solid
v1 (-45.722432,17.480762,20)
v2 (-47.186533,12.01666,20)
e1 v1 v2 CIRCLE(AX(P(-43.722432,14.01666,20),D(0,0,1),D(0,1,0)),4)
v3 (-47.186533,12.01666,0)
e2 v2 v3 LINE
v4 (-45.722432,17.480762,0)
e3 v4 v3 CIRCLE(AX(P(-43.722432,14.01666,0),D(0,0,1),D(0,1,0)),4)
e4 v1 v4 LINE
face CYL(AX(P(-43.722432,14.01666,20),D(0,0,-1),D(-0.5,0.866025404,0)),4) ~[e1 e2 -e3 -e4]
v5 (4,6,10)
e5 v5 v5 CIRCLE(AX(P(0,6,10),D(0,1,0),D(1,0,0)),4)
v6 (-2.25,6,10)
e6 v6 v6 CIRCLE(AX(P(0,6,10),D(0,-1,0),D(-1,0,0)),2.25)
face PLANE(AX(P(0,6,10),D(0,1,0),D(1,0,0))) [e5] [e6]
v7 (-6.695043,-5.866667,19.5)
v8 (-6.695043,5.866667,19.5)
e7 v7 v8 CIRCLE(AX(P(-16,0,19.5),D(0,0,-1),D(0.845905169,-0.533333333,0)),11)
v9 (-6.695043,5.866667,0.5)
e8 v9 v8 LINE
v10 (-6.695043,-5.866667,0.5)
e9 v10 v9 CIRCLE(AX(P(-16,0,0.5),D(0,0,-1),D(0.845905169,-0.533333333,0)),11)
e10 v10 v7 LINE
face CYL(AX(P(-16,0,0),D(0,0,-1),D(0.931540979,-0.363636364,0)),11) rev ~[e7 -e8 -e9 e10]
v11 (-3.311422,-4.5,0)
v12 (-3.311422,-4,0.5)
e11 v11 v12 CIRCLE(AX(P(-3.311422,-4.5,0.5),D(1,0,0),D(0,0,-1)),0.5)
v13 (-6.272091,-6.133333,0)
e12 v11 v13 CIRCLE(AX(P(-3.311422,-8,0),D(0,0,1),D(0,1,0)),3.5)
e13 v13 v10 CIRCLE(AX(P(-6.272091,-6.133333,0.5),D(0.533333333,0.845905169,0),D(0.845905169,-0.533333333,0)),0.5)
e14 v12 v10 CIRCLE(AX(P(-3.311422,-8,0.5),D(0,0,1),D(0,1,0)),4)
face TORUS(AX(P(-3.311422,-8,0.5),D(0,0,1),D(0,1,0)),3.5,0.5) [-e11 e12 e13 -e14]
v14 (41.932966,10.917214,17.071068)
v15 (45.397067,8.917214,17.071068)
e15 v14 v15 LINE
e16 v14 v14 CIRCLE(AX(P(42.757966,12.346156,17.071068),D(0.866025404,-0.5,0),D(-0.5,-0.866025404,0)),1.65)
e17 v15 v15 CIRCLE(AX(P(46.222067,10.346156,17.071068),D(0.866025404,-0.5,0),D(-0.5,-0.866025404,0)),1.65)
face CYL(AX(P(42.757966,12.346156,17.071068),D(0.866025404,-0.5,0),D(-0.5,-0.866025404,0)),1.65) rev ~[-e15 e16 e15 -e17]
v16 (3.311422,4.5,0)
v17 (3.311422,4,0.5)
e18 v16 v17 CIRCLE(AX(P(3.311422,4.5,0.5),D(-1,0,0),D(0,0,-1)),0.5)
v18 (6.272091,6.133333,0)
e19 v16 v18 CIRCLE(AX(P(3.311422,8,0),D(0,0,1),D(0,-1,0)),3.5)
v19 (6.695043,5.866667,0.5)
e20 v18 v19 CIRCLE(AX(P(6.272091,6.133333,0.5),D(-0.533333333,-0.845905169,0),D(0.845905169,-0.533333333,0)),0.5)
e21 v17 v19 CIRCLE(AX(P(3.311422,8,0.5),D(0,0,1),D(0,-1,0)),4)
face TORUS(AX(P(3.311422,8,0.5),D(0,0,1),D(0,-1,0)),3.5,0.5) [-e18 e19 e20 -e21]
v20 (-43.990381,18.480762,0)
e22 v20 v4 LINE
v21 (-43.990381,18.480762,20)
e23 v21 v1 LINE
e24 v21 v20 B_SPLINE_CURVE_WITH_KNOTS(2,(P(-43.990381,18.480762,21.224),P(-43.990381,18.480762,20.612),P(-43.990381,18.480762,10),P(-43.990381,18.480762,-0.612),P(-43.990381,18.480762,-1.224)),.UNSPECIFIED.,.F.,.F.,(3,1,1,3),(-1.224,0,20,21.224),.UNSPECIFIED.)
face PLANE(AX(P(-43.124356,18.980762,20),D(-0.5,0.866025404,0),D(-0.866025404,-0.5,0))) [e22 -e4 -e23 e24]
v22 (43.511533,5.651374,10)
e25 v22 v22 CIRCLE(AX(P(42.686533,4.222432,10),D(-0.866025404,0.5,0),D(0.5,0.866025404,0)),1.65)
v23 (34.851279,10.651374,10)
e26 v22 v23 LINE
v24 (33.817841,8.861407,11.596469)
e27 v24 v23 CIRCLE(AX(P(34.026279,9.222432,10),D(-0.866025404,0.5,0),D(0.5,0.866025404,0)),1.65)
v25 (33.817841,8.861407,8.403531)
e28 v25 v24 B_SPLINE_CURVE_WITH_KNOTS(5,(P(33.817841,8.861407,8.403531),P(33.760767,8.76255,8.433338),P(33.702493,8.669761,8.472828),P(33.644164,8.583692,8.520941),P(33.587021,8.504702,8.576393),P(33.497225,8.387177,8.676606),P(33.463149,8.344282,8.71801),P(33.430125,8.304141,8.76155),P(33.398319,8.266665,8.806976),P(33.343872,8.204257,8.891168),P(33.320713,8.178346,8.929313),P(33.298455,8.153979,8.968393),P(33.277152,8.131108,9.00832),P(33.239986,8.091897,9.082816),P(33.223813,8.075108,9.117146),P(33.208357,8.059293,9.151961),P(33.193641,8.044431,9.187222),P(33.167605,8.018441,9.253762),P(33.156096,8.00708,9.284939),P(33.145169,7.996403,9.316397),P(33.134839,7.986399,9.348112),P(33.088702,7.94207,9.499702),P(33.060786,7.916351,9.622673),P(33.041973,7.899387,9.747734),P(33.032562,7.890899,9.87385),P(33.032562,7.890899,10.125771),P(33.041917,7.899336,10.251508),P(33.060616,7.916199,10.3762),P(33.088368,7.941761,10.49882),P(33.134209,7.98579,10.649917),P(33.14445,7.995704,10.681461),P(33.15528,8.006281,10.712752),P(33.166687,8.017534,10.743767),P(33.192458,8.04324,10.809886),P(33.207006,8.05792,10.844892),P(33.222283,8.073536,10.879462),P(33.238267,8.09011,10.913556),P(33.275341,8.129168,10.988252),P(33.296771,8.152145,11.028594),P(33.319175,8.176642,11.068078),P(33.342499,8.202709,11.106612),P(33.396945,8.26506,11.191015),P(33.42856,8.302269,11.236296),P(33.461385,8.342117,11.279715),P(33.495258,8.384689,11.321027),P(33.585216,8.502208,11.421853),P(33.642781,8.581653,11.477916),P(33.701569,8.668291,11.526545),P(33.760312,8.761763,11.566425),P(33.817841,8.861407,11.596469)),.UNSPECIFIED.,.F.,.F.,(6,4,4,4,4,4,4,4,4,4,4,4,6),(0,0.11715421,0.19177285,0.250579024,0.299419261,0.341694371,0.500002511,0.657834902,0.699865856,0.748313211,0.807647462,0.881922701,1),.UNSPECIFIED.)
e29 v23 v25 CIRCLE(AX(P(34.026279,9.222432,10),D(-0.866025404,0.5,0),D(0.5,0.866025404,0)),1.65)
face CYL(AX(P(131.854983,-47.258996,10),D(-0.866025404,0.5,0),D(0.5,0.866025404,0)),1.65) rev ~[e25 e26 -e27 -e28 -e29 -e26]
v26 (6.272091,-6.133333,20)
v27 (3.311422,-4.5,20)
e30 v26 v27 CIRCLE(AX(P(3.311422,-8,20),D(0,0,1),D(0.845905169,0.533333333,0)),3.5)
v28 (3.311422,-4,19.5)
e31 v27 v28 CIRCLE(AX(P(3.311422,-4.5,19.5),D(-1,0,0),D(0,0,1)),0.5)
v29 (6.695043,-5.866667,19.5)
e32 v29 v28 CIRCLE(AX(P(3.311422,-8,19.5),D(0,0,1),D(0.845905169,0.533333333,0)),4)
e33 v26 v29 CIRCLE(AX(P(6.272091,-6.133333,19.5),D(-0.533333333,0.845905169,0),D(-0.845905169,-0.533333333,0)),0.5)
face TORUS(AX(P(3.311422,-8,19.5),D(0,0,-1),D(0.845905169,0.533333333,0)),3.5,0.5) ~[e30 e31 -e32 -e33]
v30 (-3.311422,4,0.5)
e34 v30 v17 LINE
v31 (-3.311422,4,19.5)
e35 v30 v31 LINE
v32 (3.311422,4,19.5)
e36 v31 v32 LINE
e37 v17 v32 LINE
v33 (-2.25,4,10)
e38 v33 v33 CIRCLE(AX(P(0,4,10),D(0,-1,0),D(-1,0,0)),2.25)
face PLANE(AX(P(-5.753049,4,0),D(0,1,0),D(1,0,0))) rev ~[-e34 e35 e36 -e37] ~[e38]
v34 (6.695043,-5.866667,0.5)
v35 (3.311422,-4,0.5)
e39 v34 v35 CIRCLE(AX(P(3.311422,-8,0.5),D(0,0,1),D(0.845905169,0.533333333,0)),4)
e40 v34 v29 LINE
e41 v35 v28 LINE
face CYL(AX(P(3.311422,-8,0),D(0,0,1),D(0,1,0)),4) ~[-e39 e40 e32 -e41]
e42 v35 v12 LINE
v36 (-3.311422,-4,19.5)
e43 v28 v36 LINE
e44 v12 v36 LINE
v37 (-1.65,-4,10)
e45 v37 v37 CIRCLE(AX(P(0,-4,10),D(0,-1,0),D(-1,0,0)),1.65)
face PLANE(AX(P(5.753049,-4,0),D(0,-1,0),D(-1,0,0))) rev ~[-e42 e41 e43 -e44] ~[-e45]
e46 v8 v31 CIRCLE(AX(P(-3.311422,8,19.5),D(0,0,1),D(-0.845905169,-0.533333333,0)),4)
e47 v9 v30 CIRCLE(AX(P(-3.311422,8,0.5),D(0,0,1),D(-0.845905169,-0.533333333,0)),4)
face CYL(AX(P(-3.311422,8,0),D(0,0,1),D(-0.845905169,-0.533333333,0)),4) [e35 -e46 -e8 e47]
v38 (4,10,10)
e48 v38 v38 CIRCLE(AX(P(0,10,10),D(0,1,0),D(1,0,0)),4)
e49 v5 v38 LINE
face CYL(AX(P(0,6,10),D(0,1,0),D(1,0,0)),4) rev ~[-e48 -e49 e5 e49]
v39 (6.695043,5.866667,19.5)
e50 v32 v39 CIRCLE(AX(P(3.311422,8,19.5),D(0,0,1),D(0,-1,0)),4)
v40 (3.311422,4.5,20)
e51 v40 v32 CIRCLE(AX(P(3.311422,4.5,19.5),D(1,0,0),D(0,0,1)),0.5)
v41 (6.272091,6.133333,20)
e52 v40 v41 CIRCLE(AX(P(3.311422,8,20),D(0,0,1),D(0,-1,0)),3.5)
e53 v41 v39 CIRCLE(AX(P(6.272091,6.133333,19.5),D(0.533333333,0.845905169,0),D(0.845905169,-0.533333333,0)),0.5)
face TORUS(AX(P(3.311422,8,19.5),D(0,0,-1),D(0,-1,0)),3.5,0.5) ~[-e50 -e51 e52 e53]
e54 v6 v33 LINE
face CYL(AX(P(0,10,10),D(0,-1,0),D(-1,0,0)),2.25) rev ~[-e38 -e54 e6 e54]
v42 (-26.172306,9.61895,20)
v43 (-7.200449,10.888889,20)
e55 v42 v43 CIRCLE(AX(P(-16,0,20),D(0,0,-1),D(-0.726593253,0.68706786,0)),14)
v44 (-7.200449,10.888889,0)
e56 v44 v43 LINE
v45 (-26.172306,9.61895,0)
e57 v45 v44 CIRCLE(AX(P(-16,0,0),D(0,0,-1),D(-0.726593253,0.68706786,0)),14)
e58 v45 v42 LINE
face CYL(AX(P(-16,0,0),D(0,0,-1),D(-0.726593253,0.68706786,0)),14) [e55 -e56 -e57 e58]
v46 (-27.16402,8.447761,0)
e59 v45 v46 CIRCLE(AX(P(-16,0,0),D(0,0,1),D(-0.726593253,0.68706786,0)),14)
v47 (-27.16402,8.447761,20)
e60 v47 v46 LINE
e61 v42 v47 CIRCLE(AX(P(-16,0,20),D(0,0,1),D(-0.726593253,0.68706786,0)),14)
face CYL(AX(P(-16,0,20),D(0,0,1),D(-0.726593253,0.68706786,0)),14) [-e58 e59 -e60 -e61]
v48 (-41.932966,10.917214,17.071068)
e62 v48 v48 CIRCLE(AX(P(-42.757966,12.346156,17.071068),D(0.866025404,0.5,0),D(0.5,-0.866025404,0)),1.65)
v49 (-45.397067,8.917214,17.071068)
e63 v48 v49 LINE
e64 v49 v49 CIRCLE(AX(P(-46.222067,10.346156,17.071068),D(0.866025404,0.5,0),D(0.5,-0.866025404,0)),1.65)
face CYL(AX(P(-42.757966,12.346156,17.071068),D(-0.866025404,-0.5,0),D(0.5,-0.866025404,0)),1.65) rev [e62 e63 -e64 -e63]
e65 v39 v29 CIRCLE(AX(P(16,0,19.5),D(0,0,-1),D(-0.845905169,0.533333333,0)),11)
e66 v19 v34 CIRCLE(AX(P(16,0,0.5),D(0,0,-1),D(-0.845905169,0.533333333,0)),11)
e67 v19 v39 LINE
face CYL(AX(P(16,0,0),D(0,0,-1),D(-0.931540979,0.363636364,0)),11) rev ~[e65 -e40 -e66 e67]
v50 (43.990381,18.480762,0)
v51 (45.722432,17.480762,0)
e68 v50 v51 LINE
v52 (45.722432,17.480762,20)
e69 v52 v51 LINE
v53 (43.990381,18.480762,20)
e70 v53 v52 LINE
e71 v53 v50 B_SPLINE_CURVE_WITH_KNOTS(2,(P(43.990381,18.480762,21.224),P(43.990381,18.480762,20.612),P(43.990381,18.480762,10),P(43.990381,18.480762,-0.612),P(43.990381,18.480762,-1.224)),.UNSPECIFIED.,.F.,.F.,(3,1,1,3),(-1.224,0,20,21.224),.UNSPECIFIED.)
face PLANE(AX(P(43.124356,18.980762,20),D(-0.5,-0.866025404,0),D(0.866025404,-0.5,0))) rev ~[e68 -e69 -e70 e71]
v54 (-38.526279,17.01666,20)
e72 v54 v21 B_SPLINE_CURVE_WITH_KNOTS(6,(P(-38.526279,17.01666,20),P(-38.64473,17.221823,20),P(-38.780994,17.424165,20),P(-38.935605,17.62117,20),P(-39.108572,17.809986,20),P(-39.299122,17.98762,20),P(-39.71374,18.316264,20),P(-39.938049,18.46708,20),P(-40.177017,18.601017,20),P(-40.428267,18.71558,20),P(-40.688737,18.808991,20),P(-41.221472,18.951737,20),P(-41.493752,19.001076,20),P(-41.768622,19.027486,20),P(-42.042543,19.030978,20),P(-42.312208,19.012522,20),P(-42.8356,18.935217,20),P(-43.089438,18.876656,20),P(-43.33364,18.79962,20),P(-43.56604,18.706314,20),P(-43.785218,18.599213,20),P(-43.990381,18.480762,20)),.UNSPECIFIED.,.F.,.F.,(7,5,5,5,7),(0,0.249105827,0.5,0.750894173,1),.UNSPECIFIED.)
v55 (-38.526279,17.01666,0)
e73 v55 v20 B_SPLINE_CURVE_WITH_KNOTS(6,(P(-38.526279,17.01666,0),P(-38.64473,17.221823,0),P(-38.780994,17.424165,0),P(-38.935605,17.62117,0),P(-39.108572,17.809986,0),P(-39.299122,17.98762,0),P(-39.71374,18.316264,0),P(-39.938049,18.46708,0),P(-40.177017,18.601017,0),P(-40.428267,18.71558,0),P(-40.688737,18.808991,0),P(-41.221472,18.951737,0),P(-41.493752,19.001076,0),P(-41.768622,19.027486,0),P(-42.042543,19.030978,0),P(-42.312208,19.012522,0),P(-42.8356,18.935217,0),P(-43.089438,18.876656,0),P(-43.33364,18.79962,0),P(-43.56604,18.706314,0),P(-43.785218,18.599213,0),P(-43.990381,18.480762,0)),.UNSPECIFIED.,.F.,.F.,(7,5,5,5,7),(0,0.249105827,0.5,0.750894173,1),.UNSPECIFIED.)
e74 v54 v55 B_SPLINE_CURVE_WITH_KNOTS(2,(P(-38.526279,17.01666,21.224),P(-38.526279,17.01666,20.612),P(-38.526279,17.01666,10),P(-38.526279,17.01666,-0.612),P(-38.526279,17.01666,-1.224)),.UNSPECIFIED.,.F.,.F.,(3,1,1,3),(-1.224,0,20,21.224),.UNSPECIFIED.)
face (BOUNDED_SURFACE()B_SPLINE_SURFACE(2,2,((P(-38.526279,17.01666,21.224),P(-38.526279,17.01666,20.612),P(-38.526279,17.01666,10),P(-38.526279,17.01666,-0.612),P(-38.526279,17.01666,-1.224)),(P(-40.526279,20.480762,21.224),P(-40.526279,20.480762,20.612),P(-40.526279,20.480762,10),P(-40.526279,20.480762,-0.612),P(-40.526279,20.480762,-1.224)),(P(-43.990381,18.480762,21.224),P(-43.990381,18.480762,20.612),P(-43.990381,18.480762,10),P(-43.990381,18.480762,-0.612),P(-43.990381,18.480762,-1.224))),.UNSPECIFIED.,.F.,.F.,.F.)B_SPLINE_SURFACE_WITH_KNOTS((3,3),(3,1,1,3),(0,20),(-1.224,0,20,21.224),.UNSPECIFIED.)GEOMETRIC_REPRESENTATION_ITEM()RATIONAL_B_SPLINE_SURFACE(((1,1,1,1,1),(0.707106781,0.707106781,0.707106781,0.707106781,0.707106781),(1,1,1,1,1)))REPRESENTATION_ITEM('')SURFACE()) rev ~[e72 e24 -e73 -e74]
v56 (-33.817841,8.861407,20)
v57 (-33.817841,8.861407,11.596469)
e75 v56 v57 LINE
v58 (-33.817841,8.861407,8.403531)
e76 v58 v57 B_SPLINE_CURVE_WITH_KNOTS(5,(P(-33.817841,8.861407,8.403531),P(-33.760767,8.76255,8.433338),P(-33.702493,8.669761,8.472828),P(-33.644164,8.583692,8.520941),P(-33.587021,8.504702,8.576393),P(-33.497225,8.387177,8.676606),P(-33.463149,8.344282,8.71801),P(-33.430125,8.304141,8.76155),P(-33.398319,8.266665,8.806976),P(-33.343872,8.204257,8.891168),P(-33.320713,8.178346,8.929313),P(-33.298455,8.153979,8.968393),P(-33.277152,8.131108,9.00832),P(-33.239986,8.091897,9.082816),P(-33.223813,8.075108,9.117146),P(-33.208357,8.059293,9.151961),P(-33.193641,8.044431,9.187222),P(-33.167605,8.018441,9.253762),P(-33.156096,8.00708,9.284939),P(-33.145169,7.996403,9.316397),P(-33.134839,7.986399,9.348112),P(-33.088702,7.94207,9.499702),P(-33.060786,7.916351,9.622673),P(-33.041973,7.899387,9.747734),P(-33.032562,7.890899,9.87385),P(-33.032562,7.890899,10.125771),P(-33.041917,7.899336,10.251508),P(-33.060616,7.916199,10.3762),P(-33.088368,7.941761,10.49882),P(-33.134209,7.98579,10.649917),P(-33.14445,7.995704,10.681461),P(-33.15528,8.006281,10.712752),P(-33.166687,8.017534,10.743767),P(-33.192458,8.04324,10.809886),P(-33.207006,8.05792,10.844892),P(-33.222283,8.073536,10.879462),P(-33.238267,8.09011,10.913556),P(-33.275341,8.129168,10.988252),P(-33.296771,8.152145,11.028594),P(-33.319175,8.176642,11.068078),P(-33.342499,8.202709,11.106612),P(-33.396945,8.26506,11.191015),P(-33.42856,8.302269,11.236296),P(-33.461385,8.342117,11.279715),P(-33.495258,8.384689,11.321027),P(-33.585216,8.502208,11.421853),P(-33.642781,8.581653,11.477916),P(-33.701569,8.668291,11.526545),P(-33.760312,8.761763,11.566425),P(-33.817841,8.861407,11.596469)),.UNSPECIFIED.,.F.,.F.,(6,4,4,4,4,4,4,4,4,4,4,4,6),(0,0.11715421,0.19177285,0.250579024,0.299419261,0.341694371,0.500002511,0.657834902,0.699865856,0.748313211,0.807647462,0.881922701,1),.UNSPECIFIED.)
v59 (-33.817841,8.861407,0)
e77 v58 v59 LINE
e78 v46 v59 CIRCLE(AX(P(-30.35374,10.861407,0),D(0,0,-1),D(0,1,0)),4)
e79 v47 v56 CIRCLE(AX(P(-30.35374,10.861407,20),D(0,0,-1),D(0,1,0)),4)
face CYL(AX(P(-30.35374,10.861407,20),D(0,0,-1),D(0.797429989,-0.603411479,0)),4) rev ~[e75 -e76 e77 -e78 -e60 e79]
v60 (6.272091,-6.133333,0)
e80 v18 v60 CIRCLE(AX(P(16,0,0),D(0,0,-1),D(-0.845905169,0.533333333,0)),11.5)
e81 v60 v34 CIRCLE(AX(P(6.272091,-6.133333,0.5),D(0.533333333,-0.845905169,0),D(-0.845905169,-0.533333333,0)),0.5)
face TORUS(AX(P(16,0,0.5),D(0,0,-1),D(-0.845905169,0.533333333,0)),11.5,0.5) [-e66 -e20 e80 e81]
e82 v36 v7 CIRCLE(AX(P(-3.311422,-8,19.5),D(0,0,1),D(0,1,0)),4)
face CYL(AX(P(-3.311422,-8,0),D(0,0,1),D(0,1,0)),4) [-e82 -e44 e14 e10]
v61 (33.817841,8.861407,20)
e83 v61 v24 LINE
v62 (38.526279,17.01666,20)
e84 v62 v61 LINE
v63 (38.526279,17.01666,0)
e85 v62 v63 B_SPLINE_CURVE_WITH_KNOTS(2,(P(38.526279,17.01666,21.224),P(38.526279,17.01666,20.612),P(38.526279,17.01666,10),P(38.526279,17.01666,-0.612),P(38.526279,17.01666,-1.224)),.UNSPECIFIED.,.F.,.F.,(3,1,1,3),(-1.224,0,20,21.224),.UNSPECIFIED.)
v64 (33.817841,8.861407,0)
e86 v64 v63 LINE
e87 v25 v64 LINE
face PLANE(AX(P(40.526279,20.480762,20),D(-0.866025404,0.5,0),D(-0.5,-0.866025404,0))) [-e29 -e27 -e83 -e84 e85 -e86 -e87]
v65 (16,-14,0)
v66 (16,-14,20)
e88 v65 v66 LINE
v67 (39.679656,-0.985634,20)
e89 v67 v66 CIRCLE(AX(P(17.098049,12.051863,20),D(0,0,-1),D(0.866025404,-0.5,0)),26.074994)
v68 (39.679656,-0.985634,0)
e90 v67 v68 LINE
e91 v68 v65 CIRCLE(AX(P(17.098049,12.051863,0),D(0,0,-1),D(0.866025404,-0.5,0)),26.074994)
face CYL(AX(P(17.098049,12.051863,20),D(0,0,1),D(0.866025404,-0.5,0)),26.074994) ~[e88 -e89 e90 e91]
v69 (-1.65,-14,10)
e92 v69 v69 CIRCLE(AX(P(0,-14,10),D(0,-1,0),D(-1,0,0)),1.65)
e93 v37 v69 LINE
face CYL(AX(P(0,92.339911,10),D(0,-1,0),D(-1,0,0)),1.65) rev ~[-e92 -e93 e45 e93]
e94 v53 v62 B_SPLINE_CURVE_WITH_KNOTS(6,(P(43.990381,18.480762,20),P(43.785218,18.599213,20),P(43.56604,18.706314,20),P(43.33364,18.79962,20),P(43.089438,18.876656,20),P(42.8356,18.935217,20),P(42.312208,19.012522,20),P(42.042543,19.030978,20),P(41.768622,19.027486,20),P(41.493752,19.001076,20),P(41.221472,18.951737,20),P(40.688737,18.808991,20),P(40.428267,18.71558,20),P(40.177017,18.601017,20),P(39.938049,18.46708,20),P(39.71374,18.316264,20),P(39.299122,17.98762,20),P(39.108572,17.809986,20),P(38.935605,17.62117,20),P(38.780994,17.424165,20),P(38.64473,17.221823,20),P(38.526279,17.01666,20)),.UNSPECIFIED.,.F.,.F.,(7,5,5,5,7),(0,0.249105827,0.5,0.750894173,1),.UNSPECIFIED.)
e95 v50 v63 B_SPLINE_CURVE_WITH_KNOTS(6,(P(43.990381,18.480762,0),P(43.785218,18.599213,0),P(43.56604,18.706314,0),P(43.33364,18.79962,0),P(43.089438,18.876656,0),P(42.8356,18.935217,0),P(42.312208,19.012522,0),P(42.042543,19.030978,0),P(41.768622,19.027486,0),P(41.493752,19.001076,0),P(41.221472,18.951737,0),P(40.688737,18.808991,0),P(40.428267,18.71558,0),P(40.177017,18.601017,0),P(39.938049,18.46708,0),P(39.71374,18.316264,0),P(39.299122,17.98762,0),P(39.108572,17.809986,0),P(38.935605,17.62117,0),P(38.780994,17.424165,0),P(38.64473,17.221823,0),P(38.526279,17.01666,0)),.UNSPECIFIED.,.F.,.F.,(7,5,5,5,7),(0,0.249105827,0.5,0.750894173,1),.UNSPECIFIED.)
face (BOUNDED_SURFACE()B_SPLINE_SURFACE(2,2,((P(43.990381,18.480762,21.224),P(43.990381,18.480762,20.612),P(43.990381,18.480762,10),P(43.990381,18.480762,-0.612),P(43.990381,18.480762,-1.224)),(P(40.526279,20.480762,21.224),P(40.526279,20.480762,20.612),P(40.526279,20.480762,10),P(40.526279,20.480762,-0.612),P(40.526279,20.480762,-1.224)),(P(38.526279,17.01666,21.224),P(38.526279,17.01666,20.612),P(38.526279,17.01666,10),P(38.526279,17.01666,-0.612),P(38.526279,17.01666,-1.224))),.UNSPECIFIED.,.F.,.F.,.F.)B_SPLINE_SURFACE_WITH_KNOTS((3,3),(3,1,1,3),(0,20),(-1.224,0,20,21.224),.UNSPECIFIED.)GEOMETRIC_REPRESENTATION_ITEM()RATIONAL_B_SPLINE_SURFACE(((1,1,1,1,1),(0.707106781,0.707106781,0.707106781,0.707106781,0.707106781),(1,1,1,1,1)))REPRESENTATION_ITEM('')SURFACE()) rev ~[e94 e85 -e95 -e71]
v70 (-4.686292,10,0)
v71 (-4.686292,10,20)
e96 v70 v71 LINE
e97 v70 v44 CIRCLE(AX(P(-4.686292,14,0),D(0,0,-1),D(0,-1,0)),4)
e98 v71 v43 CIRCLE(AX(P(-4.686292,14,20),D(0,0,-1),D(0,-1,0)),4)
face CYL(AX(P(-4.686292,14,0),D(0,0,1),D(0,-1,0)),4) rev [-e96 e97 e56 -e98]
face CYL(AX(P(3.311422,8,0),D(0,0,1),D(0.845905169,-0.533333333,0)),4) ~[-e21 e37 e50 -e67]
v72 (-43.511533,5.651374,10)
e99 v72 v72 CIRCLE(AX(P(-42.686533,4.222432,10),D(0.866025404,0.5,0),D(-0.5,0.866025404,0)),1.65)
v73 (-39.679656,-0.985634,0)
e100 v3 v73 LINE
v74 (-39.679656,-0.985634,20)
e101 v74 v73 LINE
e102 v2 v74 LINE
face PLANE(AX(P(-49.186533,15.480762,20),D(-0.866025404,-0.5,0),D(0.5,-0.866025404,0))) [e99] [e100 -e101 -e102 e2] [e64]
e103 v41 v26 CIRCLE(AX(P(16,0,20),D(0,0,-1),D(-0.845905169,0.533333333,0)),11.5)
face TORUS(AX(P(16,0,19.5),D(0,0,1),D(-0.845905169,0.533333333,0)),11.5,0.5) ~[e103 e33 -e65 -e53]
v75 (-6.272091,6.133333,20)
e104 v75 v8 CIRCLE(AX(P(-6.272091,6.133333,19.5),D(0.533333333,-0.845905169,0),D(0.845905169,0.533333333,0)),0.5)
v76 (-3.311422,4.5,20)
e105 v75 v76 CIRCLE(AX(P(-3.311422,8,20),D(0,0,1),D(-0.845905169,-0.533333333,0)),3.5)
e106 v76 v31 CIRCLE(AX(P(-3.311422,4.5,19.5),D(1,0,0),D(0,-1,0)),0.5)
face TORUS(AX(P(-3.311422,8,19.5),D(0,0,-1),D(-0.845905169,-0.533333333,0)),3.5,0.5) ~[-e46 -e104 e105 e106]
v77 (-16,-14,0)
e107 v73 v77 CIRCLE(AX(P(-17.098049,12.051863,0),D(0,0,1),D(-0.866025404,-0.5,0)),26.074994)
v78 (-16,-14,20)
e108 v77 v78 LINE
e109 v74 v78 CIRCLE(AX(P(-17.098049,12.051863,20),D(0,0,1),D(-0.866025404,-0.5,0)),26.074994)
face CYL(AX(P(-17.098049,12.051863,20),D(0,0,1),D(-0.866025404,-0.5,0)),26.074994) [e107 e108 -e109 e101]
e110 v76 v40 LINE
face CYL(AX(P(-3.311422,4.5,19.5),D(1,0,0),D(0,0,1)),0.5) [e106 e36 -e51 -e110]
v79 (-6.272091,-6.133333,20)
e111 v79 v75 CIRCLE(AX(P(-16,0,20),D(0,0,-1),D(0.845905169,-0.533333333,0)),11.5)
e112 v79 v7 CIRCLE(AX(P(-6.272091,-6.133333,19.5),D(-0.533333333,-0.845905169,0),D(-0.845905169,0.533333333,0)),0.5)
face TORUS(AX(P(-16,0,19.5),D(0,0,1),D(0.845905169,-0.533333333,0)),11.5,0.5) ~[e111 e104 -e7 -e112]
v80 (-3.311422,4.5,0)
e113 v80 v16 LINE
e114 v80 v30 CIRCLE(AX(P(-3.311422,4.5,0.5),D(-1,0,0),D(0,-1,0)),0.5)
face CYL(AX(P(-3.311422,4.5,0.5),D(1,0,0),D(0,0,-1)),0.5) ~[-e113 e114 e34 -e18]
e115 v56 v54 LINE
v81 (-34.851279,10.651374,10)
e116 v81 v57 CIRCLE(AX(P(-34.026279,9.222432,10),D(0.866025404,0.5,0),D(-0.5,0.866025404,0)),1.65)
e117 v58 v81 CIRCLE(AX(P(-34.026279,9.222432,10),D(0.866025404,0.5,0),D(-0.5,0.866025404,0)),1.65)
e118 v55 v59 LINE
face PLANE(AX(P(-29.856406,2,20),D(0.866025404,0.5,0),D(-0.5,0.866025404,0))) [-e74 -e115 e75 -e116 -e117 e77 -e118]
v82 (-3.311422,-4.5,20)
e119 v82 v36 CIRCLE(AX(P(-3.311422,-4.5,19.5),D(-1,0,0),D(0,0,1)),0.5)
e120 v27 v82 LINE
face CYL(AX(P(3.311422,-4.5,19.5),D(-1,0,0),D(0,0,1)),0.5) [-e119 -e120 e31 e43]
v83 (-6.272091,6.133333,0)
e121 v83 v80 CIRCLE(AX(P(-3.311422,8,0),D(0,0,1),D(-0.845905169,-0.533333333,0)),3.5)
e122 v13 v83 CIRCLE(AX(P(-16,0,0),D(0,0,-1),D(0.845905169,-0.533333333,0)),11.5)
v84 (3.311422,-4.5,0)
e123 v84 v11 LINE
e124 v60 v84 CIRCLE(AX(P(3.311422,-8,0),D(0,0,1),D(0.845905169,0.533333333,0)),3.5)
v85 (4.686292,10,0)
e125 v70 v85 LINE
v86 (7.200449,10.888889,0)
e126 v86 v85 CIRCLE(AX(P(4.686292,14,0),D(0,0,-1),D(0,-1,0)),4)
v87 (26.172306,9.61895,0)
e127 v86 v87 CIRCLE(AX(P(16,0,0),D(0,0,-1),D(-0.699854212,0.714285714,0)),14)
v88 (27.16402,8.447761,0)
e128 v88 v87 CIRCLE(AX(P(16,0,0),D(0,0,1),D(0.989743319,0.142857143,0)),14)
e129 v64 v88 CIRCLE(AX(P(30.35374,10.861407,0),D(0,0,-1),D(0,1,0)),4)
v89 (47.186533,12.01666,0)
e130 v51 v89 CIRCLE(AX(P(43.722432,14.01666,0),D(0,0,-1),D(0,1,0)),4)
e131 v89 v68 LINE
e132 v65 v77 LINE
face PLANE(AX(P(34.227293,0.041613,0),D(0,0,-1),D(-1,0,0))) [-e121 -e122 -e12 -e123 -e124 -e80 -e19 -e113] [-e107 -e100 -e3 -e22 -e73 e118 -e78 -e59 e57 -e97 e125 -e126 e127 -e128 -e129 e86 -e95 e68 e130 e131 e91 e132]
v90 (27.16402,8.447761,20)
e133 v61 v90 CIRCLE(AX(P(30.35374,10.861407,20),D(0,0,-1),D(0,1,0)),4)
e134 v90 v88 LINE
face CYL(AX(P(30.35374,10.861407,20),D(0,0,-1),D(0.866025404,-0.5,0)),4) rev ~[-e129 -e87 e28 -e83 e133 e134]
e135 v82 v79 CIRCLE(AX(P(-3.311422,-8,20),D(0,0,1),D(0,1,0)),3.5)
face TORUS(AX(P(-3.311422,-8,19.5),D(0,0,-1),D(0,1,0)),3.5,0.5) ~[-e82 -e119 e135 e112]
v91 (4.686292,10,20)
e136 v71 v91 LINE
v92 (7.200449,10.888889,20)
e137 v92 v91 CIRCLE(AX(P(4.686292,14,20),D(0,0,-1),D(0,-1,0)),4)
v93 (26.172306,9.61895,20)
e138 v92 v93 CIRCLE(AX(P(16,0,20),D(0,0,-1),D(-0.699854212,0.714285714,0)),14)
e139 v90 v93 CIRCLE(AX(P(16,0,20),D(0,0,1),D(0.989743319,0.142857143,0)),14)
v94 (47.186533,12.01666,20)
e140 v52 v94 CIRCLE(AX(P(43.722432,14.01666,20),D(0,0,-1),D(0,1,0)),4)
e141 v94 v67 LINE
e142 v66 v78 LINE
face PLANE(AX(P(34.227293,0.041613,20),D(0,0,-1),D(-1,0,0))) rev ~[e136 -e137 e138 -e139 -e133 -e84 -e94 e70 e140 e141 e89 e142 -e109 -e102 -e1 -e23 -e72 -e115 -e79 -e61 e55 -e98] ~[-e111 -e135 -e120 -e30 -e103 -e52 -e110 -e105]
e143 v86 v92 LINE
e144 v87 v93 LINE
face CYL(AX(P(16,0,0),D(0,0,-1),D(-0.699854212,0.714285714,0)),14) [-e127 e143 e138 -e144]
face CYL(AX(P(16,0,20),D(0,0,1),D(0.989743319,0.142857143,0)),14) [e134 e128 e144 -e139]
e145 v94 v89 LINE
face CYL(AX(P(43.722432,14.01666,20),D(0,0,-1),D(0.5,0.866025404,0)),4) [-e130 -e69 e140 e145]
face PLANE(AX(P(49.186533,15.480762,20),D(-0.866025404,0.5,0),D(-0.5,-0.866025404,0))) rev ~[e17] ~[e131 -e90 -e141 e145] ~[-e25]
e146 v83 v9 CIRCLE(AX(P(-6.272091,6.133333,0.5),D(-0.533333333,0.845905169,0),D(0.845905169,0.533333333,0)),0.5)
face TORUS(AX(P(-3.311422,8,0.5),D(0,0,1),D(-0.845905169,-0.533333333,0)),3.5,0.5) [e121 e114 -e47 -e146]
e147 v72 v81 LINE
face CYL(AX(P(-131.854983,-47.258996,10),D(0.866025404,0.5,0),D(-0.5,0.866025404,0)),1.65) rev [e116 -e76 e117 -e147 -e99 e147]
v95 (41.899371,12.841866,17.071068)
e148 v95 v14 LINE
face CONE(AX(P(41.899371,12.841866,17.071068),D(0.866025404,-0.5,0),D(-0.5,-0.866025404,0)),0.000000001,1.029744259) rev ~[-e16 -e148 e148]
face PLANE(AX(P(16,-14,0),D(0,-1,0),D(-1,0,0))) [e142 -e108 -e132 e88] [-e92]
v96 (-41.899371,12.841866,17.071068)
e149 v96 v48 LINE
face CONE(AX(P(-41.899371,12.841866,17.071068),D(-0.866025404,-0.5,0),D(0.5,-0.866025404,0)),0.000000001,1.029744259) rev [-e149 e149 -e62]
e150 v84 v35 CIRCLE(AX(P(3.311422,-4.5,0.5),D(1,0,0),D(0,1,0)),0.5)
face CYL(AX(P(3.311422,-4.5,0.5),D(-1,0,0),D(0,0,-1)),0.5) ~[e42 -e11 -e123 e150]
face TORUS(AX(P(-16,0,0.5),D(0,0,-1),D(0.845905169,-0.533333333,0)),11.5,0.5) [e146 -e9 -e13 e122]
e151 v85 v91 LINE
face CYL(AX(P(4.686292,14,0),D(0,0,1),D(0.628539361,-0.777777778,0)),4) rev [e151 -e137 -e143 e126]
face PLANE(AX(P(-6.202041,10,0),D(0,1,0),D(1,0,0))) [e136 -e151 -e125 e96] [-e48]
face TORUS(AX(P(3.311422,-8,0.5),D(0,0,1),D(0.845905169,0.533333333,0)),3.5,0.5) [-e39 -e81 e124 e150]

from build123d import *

# Parameters (mm, degrees)
EXTRUDE_2_DEPTH             = 20
HOLE_WIZARD_M41_D           = 4.5
HOLE_WIZARD_M41_DEPTH       = 6
HOLE_WIZARD_M41_CBORE_D     = 8
HOLE_WIZARD_M41_CBORE_DEPTH = 4
M4X0_71_D                   = 3.3
EXTRUDE_4_DEPTH             = 20
CUT_EXTRUDE_1_DEPTH         = 21
FILLET_1_R                  = 4
M4X0_72_D                   = 3.3
FILLET_6_R                  = 0.5


with BuildPart() as part:
    # Эскиз1 → Бобышка-Вытянуть2 (new body)
    with BuildSketch(Plane.XY):
        with BuildLine():
            Line((-6.202041029, 10), (6.202041029, 10))
            ThreePointArc((6.202041029, 10), (16.267083523, 13.997452139), (26.172305548, 9.618950039))
            Line((26.172305548, 9.618950039), (34.464101615, 23.980762114))
            Line((34.464101615, 23.980762114), (43.124355653, 18.980762114))
            Line((43.124355653, 18.980762114), (28.124355653, -7))
            ThreePointArc((28.124355653, -7), (23, -12.124355653), (16, -14))
            Line((16, -14), (-16, -14))
            ThreePointArc((-16, -14), (-23, -12.124355653), (-28.124355653, -7))
            Line((-28.124355653, -7), (-43.124355653, 18.980762114))
            Line((-43.124355653, 18.980762114), (-34.464101615, 23.980762114))
            Line((-34.464101615, 23.980762114), (-26.172305548, 9.618950039))
            ThreePointArc((-26.172305548, 9.618950039), (-16.267083523, 13.997452139), (-6.202041029, 10))
        make_face()
        with BuildLine():
            Line((-5.753049234, 4), (5.753049234, 4))
            ThreePointArc((5.753049234, 4), (27, 0), (5.753049234, -4))
            Line((5.753049234, -4), (-5.753049234, -4))
            ThreePointArc((-5.753049234, -4), (-27, 0), (-5.753049234, 4))
        make_face(mode=Mode.SUBTRACT)
    extrude(amount=EXTRUDE_2_DEPTH)

    # Цековка для винта с внутренним шестигранником M41
    with Locations(Plane(origin=(0, 10, 0), x_dir=(1, 0, 0), z_dir=(0, 1, 0))):
        with Locations((0, -10)):
            CounterBoreHole(HOLE_WIZARD_M41_D / 2, HOLE_WIZARD_M41_CBORE_D / 2, HOLE_WIZARD_M41_CBORE_DEPTH, depth=HOLE_WIZARD_M41_DEPTH)

    # Отверстие обработанное метчиком M4x0.71 (through all)
    with Locations(Plane(origin=(0, -4, 0), x_dir=(1, 0, 0), z_dir=(0, 1, 0))):
        with Locations((0, -10)):
            Hole(M4X0_71_D / 2)

    # Эскиз15 → Бобышка-Вытянуть4 (add)
    with BuildSketch(Plane.XY.offset(20)):
        with BuildLine():
            Line((43.124355653, 18.980762114), (49.186533479, 15.480762114))
            Line((49.186533479, 15.480762114), (39.679655511, -0.98563355))
            ThreePointArc((39.679655511, -0.98563355), (29.657079347, -10.799308246), (16, -14))
            ThreePointArc((16, -14), (23, -12.124355653), (28.124355653, -7))
            Line((28.124355653, -7), (43.124355653, 18.980762114))
        make_face()
        with BuildLine():
            Line((-49.186533479, 15.480762114), (-39.679655511, -0.98563355))
            ThreePointArc((-39.679655511, -0.98563355), (-29.657079347, -10.799308246), (-16, -14))
            ThreePointArc((-16, -14), (-23, -12.124355653), (-28.124355653, -7))
            Line((-28.124355653, -7), (-43.124355653, 18.980762114))
            Line((-43.124355653, 18.980762114), (-49.186533479, 15.480762114))
        make_face()
    extrude(amount=-EXTRUDE_4_DEPTH)

    # Эскиз16 → Вырез-Вытянуть1 (cut, through all)
    with BuildSketch(Plane.XY.offset(20)):
        with BuildLine():
            Line((40.526279442, 20.480762114), (29.856406461, 2))
            ThreePointArc((29.856406461, 2), (28.603842673, 6.094518019), (26.172305548, 9.618950039))
            Line((26.172305548, 9.618950039), (34.464101615, 23.980762114))
            Line((34.464101615, 23.980762114), (40.526279442, 20.480762114))
        make_face()
        with BuildLine():
            Line((-40.526279442, 20.480762114), (-34.464101615, 23.980762114))
            Line((-34.464101615, 23.980762114), (-26.172305548, 9.618950039))
            ThreePointArc((-26.172305548, 9.618950039), (-28.603842673, 6.094518019), (-29.856406461, 2))
            Line((-29.856406461, 2), (-40.526279442, 20.480762114))
        make_face()
    extrude(amount=-CUT_EXTRUDE_1_DEPTH, mode=Mode.SUBTRACT)

    # Скругление1
    fillet_1_edges = [part.edges().sort_by_distance(p)[0] for p in [
        (-29.856406461, 2, 10),
        (-40.526279442, 20.480762114, 10),
        (-6.202041029, 10, 10),
        (6.202041029, 10, 10),
        (-5.753049234, 4, 10),
        (-5.753049234, -4, 10),
        (5.753049234, -4, 10),
        (5.753049234, 4, 10),
        (49.186533479, 15.480762114, 10),
        (-49.186533479, 15.480762114, 10),
        (40.526279442, 20.480762114, 10),
        (29.856406461, 2, 10),
    ]]
    fillet(fillet_1_edges, radius=FILLET_1_R)

    # Отверстие обработанное метчиком M4x0.72 (through all)
    with Locations(Plane(origin=(31.110785953, -15.827350987, 5.43331307), x_dir=(-0.5, -0.866025404, 0), z_dir=(0.866025404, -0.5, 0))):
        with Locations((-23.151495053, -4.56668693)):
            m4x0_72 = Hole(M4X0_72_D / 2)

    # Зеркальное отражение1: Отверстие обработанное метчиком M4x0.72 across plane
    add(m4x0_72.mirror(Plane.ZY), mode=Mode.SUBTRACT)

    # Эскиз13 → Отверстие обработанное метчиком M4x0.73 (revolve, cut)
    with BuildSketch(Plane(origin=(-46.222067385, 10.346156221, 17.071067812), x_dir=(0.5, -0.866025404, 0), z_dir=(0, 0, 1))):
        Polygon((0, 0), (0, 4.991420021), (1.65, 4), (1.65, 0), align=None)
    m4x0_73 = revolve(axis=Axis((-51.721328699, 7.171156221, 17.071067812), (0.866025404, 0.5, 0)), mode=Mode.SUBTRACT)

    # Зеркальное отражение3: Отверстие обработанное метчиком M4x0.73 across plane
    add(m4x0_73.mirror(Plane.ZY), mode=Mode.SUBTRACT)

    # Скругление6
    fillet_6_edges = [part.edges().sort_by_distance(p)[0] for p in [
        (0, -4, 20),
        (-27, 0, 20),
        (0, 4, 20),
        (27, 0, 20),
        (-5.243606026, 4.497619857, 20),
        (5.243606026, 4.497619857, 20),
        (5.243606026, -4.497619857, 20),
        (-5.243606026, -4.497619857, 20),
        (-27, 0, 0),
        (0, -4, 0),
        (27, 0, 0),
        (0, 4, 0),
        (-5.243606026, 4.497619857, 0),
        (5.243606026, 4.497619857, 0),
        (5.243606026, -4.497619857, 0),
        (-5.243606026, -4.497619857, 0),
    ]]
    fillet(fillet_6_edges, radius=FILLET_6_R)


solid = part.part
